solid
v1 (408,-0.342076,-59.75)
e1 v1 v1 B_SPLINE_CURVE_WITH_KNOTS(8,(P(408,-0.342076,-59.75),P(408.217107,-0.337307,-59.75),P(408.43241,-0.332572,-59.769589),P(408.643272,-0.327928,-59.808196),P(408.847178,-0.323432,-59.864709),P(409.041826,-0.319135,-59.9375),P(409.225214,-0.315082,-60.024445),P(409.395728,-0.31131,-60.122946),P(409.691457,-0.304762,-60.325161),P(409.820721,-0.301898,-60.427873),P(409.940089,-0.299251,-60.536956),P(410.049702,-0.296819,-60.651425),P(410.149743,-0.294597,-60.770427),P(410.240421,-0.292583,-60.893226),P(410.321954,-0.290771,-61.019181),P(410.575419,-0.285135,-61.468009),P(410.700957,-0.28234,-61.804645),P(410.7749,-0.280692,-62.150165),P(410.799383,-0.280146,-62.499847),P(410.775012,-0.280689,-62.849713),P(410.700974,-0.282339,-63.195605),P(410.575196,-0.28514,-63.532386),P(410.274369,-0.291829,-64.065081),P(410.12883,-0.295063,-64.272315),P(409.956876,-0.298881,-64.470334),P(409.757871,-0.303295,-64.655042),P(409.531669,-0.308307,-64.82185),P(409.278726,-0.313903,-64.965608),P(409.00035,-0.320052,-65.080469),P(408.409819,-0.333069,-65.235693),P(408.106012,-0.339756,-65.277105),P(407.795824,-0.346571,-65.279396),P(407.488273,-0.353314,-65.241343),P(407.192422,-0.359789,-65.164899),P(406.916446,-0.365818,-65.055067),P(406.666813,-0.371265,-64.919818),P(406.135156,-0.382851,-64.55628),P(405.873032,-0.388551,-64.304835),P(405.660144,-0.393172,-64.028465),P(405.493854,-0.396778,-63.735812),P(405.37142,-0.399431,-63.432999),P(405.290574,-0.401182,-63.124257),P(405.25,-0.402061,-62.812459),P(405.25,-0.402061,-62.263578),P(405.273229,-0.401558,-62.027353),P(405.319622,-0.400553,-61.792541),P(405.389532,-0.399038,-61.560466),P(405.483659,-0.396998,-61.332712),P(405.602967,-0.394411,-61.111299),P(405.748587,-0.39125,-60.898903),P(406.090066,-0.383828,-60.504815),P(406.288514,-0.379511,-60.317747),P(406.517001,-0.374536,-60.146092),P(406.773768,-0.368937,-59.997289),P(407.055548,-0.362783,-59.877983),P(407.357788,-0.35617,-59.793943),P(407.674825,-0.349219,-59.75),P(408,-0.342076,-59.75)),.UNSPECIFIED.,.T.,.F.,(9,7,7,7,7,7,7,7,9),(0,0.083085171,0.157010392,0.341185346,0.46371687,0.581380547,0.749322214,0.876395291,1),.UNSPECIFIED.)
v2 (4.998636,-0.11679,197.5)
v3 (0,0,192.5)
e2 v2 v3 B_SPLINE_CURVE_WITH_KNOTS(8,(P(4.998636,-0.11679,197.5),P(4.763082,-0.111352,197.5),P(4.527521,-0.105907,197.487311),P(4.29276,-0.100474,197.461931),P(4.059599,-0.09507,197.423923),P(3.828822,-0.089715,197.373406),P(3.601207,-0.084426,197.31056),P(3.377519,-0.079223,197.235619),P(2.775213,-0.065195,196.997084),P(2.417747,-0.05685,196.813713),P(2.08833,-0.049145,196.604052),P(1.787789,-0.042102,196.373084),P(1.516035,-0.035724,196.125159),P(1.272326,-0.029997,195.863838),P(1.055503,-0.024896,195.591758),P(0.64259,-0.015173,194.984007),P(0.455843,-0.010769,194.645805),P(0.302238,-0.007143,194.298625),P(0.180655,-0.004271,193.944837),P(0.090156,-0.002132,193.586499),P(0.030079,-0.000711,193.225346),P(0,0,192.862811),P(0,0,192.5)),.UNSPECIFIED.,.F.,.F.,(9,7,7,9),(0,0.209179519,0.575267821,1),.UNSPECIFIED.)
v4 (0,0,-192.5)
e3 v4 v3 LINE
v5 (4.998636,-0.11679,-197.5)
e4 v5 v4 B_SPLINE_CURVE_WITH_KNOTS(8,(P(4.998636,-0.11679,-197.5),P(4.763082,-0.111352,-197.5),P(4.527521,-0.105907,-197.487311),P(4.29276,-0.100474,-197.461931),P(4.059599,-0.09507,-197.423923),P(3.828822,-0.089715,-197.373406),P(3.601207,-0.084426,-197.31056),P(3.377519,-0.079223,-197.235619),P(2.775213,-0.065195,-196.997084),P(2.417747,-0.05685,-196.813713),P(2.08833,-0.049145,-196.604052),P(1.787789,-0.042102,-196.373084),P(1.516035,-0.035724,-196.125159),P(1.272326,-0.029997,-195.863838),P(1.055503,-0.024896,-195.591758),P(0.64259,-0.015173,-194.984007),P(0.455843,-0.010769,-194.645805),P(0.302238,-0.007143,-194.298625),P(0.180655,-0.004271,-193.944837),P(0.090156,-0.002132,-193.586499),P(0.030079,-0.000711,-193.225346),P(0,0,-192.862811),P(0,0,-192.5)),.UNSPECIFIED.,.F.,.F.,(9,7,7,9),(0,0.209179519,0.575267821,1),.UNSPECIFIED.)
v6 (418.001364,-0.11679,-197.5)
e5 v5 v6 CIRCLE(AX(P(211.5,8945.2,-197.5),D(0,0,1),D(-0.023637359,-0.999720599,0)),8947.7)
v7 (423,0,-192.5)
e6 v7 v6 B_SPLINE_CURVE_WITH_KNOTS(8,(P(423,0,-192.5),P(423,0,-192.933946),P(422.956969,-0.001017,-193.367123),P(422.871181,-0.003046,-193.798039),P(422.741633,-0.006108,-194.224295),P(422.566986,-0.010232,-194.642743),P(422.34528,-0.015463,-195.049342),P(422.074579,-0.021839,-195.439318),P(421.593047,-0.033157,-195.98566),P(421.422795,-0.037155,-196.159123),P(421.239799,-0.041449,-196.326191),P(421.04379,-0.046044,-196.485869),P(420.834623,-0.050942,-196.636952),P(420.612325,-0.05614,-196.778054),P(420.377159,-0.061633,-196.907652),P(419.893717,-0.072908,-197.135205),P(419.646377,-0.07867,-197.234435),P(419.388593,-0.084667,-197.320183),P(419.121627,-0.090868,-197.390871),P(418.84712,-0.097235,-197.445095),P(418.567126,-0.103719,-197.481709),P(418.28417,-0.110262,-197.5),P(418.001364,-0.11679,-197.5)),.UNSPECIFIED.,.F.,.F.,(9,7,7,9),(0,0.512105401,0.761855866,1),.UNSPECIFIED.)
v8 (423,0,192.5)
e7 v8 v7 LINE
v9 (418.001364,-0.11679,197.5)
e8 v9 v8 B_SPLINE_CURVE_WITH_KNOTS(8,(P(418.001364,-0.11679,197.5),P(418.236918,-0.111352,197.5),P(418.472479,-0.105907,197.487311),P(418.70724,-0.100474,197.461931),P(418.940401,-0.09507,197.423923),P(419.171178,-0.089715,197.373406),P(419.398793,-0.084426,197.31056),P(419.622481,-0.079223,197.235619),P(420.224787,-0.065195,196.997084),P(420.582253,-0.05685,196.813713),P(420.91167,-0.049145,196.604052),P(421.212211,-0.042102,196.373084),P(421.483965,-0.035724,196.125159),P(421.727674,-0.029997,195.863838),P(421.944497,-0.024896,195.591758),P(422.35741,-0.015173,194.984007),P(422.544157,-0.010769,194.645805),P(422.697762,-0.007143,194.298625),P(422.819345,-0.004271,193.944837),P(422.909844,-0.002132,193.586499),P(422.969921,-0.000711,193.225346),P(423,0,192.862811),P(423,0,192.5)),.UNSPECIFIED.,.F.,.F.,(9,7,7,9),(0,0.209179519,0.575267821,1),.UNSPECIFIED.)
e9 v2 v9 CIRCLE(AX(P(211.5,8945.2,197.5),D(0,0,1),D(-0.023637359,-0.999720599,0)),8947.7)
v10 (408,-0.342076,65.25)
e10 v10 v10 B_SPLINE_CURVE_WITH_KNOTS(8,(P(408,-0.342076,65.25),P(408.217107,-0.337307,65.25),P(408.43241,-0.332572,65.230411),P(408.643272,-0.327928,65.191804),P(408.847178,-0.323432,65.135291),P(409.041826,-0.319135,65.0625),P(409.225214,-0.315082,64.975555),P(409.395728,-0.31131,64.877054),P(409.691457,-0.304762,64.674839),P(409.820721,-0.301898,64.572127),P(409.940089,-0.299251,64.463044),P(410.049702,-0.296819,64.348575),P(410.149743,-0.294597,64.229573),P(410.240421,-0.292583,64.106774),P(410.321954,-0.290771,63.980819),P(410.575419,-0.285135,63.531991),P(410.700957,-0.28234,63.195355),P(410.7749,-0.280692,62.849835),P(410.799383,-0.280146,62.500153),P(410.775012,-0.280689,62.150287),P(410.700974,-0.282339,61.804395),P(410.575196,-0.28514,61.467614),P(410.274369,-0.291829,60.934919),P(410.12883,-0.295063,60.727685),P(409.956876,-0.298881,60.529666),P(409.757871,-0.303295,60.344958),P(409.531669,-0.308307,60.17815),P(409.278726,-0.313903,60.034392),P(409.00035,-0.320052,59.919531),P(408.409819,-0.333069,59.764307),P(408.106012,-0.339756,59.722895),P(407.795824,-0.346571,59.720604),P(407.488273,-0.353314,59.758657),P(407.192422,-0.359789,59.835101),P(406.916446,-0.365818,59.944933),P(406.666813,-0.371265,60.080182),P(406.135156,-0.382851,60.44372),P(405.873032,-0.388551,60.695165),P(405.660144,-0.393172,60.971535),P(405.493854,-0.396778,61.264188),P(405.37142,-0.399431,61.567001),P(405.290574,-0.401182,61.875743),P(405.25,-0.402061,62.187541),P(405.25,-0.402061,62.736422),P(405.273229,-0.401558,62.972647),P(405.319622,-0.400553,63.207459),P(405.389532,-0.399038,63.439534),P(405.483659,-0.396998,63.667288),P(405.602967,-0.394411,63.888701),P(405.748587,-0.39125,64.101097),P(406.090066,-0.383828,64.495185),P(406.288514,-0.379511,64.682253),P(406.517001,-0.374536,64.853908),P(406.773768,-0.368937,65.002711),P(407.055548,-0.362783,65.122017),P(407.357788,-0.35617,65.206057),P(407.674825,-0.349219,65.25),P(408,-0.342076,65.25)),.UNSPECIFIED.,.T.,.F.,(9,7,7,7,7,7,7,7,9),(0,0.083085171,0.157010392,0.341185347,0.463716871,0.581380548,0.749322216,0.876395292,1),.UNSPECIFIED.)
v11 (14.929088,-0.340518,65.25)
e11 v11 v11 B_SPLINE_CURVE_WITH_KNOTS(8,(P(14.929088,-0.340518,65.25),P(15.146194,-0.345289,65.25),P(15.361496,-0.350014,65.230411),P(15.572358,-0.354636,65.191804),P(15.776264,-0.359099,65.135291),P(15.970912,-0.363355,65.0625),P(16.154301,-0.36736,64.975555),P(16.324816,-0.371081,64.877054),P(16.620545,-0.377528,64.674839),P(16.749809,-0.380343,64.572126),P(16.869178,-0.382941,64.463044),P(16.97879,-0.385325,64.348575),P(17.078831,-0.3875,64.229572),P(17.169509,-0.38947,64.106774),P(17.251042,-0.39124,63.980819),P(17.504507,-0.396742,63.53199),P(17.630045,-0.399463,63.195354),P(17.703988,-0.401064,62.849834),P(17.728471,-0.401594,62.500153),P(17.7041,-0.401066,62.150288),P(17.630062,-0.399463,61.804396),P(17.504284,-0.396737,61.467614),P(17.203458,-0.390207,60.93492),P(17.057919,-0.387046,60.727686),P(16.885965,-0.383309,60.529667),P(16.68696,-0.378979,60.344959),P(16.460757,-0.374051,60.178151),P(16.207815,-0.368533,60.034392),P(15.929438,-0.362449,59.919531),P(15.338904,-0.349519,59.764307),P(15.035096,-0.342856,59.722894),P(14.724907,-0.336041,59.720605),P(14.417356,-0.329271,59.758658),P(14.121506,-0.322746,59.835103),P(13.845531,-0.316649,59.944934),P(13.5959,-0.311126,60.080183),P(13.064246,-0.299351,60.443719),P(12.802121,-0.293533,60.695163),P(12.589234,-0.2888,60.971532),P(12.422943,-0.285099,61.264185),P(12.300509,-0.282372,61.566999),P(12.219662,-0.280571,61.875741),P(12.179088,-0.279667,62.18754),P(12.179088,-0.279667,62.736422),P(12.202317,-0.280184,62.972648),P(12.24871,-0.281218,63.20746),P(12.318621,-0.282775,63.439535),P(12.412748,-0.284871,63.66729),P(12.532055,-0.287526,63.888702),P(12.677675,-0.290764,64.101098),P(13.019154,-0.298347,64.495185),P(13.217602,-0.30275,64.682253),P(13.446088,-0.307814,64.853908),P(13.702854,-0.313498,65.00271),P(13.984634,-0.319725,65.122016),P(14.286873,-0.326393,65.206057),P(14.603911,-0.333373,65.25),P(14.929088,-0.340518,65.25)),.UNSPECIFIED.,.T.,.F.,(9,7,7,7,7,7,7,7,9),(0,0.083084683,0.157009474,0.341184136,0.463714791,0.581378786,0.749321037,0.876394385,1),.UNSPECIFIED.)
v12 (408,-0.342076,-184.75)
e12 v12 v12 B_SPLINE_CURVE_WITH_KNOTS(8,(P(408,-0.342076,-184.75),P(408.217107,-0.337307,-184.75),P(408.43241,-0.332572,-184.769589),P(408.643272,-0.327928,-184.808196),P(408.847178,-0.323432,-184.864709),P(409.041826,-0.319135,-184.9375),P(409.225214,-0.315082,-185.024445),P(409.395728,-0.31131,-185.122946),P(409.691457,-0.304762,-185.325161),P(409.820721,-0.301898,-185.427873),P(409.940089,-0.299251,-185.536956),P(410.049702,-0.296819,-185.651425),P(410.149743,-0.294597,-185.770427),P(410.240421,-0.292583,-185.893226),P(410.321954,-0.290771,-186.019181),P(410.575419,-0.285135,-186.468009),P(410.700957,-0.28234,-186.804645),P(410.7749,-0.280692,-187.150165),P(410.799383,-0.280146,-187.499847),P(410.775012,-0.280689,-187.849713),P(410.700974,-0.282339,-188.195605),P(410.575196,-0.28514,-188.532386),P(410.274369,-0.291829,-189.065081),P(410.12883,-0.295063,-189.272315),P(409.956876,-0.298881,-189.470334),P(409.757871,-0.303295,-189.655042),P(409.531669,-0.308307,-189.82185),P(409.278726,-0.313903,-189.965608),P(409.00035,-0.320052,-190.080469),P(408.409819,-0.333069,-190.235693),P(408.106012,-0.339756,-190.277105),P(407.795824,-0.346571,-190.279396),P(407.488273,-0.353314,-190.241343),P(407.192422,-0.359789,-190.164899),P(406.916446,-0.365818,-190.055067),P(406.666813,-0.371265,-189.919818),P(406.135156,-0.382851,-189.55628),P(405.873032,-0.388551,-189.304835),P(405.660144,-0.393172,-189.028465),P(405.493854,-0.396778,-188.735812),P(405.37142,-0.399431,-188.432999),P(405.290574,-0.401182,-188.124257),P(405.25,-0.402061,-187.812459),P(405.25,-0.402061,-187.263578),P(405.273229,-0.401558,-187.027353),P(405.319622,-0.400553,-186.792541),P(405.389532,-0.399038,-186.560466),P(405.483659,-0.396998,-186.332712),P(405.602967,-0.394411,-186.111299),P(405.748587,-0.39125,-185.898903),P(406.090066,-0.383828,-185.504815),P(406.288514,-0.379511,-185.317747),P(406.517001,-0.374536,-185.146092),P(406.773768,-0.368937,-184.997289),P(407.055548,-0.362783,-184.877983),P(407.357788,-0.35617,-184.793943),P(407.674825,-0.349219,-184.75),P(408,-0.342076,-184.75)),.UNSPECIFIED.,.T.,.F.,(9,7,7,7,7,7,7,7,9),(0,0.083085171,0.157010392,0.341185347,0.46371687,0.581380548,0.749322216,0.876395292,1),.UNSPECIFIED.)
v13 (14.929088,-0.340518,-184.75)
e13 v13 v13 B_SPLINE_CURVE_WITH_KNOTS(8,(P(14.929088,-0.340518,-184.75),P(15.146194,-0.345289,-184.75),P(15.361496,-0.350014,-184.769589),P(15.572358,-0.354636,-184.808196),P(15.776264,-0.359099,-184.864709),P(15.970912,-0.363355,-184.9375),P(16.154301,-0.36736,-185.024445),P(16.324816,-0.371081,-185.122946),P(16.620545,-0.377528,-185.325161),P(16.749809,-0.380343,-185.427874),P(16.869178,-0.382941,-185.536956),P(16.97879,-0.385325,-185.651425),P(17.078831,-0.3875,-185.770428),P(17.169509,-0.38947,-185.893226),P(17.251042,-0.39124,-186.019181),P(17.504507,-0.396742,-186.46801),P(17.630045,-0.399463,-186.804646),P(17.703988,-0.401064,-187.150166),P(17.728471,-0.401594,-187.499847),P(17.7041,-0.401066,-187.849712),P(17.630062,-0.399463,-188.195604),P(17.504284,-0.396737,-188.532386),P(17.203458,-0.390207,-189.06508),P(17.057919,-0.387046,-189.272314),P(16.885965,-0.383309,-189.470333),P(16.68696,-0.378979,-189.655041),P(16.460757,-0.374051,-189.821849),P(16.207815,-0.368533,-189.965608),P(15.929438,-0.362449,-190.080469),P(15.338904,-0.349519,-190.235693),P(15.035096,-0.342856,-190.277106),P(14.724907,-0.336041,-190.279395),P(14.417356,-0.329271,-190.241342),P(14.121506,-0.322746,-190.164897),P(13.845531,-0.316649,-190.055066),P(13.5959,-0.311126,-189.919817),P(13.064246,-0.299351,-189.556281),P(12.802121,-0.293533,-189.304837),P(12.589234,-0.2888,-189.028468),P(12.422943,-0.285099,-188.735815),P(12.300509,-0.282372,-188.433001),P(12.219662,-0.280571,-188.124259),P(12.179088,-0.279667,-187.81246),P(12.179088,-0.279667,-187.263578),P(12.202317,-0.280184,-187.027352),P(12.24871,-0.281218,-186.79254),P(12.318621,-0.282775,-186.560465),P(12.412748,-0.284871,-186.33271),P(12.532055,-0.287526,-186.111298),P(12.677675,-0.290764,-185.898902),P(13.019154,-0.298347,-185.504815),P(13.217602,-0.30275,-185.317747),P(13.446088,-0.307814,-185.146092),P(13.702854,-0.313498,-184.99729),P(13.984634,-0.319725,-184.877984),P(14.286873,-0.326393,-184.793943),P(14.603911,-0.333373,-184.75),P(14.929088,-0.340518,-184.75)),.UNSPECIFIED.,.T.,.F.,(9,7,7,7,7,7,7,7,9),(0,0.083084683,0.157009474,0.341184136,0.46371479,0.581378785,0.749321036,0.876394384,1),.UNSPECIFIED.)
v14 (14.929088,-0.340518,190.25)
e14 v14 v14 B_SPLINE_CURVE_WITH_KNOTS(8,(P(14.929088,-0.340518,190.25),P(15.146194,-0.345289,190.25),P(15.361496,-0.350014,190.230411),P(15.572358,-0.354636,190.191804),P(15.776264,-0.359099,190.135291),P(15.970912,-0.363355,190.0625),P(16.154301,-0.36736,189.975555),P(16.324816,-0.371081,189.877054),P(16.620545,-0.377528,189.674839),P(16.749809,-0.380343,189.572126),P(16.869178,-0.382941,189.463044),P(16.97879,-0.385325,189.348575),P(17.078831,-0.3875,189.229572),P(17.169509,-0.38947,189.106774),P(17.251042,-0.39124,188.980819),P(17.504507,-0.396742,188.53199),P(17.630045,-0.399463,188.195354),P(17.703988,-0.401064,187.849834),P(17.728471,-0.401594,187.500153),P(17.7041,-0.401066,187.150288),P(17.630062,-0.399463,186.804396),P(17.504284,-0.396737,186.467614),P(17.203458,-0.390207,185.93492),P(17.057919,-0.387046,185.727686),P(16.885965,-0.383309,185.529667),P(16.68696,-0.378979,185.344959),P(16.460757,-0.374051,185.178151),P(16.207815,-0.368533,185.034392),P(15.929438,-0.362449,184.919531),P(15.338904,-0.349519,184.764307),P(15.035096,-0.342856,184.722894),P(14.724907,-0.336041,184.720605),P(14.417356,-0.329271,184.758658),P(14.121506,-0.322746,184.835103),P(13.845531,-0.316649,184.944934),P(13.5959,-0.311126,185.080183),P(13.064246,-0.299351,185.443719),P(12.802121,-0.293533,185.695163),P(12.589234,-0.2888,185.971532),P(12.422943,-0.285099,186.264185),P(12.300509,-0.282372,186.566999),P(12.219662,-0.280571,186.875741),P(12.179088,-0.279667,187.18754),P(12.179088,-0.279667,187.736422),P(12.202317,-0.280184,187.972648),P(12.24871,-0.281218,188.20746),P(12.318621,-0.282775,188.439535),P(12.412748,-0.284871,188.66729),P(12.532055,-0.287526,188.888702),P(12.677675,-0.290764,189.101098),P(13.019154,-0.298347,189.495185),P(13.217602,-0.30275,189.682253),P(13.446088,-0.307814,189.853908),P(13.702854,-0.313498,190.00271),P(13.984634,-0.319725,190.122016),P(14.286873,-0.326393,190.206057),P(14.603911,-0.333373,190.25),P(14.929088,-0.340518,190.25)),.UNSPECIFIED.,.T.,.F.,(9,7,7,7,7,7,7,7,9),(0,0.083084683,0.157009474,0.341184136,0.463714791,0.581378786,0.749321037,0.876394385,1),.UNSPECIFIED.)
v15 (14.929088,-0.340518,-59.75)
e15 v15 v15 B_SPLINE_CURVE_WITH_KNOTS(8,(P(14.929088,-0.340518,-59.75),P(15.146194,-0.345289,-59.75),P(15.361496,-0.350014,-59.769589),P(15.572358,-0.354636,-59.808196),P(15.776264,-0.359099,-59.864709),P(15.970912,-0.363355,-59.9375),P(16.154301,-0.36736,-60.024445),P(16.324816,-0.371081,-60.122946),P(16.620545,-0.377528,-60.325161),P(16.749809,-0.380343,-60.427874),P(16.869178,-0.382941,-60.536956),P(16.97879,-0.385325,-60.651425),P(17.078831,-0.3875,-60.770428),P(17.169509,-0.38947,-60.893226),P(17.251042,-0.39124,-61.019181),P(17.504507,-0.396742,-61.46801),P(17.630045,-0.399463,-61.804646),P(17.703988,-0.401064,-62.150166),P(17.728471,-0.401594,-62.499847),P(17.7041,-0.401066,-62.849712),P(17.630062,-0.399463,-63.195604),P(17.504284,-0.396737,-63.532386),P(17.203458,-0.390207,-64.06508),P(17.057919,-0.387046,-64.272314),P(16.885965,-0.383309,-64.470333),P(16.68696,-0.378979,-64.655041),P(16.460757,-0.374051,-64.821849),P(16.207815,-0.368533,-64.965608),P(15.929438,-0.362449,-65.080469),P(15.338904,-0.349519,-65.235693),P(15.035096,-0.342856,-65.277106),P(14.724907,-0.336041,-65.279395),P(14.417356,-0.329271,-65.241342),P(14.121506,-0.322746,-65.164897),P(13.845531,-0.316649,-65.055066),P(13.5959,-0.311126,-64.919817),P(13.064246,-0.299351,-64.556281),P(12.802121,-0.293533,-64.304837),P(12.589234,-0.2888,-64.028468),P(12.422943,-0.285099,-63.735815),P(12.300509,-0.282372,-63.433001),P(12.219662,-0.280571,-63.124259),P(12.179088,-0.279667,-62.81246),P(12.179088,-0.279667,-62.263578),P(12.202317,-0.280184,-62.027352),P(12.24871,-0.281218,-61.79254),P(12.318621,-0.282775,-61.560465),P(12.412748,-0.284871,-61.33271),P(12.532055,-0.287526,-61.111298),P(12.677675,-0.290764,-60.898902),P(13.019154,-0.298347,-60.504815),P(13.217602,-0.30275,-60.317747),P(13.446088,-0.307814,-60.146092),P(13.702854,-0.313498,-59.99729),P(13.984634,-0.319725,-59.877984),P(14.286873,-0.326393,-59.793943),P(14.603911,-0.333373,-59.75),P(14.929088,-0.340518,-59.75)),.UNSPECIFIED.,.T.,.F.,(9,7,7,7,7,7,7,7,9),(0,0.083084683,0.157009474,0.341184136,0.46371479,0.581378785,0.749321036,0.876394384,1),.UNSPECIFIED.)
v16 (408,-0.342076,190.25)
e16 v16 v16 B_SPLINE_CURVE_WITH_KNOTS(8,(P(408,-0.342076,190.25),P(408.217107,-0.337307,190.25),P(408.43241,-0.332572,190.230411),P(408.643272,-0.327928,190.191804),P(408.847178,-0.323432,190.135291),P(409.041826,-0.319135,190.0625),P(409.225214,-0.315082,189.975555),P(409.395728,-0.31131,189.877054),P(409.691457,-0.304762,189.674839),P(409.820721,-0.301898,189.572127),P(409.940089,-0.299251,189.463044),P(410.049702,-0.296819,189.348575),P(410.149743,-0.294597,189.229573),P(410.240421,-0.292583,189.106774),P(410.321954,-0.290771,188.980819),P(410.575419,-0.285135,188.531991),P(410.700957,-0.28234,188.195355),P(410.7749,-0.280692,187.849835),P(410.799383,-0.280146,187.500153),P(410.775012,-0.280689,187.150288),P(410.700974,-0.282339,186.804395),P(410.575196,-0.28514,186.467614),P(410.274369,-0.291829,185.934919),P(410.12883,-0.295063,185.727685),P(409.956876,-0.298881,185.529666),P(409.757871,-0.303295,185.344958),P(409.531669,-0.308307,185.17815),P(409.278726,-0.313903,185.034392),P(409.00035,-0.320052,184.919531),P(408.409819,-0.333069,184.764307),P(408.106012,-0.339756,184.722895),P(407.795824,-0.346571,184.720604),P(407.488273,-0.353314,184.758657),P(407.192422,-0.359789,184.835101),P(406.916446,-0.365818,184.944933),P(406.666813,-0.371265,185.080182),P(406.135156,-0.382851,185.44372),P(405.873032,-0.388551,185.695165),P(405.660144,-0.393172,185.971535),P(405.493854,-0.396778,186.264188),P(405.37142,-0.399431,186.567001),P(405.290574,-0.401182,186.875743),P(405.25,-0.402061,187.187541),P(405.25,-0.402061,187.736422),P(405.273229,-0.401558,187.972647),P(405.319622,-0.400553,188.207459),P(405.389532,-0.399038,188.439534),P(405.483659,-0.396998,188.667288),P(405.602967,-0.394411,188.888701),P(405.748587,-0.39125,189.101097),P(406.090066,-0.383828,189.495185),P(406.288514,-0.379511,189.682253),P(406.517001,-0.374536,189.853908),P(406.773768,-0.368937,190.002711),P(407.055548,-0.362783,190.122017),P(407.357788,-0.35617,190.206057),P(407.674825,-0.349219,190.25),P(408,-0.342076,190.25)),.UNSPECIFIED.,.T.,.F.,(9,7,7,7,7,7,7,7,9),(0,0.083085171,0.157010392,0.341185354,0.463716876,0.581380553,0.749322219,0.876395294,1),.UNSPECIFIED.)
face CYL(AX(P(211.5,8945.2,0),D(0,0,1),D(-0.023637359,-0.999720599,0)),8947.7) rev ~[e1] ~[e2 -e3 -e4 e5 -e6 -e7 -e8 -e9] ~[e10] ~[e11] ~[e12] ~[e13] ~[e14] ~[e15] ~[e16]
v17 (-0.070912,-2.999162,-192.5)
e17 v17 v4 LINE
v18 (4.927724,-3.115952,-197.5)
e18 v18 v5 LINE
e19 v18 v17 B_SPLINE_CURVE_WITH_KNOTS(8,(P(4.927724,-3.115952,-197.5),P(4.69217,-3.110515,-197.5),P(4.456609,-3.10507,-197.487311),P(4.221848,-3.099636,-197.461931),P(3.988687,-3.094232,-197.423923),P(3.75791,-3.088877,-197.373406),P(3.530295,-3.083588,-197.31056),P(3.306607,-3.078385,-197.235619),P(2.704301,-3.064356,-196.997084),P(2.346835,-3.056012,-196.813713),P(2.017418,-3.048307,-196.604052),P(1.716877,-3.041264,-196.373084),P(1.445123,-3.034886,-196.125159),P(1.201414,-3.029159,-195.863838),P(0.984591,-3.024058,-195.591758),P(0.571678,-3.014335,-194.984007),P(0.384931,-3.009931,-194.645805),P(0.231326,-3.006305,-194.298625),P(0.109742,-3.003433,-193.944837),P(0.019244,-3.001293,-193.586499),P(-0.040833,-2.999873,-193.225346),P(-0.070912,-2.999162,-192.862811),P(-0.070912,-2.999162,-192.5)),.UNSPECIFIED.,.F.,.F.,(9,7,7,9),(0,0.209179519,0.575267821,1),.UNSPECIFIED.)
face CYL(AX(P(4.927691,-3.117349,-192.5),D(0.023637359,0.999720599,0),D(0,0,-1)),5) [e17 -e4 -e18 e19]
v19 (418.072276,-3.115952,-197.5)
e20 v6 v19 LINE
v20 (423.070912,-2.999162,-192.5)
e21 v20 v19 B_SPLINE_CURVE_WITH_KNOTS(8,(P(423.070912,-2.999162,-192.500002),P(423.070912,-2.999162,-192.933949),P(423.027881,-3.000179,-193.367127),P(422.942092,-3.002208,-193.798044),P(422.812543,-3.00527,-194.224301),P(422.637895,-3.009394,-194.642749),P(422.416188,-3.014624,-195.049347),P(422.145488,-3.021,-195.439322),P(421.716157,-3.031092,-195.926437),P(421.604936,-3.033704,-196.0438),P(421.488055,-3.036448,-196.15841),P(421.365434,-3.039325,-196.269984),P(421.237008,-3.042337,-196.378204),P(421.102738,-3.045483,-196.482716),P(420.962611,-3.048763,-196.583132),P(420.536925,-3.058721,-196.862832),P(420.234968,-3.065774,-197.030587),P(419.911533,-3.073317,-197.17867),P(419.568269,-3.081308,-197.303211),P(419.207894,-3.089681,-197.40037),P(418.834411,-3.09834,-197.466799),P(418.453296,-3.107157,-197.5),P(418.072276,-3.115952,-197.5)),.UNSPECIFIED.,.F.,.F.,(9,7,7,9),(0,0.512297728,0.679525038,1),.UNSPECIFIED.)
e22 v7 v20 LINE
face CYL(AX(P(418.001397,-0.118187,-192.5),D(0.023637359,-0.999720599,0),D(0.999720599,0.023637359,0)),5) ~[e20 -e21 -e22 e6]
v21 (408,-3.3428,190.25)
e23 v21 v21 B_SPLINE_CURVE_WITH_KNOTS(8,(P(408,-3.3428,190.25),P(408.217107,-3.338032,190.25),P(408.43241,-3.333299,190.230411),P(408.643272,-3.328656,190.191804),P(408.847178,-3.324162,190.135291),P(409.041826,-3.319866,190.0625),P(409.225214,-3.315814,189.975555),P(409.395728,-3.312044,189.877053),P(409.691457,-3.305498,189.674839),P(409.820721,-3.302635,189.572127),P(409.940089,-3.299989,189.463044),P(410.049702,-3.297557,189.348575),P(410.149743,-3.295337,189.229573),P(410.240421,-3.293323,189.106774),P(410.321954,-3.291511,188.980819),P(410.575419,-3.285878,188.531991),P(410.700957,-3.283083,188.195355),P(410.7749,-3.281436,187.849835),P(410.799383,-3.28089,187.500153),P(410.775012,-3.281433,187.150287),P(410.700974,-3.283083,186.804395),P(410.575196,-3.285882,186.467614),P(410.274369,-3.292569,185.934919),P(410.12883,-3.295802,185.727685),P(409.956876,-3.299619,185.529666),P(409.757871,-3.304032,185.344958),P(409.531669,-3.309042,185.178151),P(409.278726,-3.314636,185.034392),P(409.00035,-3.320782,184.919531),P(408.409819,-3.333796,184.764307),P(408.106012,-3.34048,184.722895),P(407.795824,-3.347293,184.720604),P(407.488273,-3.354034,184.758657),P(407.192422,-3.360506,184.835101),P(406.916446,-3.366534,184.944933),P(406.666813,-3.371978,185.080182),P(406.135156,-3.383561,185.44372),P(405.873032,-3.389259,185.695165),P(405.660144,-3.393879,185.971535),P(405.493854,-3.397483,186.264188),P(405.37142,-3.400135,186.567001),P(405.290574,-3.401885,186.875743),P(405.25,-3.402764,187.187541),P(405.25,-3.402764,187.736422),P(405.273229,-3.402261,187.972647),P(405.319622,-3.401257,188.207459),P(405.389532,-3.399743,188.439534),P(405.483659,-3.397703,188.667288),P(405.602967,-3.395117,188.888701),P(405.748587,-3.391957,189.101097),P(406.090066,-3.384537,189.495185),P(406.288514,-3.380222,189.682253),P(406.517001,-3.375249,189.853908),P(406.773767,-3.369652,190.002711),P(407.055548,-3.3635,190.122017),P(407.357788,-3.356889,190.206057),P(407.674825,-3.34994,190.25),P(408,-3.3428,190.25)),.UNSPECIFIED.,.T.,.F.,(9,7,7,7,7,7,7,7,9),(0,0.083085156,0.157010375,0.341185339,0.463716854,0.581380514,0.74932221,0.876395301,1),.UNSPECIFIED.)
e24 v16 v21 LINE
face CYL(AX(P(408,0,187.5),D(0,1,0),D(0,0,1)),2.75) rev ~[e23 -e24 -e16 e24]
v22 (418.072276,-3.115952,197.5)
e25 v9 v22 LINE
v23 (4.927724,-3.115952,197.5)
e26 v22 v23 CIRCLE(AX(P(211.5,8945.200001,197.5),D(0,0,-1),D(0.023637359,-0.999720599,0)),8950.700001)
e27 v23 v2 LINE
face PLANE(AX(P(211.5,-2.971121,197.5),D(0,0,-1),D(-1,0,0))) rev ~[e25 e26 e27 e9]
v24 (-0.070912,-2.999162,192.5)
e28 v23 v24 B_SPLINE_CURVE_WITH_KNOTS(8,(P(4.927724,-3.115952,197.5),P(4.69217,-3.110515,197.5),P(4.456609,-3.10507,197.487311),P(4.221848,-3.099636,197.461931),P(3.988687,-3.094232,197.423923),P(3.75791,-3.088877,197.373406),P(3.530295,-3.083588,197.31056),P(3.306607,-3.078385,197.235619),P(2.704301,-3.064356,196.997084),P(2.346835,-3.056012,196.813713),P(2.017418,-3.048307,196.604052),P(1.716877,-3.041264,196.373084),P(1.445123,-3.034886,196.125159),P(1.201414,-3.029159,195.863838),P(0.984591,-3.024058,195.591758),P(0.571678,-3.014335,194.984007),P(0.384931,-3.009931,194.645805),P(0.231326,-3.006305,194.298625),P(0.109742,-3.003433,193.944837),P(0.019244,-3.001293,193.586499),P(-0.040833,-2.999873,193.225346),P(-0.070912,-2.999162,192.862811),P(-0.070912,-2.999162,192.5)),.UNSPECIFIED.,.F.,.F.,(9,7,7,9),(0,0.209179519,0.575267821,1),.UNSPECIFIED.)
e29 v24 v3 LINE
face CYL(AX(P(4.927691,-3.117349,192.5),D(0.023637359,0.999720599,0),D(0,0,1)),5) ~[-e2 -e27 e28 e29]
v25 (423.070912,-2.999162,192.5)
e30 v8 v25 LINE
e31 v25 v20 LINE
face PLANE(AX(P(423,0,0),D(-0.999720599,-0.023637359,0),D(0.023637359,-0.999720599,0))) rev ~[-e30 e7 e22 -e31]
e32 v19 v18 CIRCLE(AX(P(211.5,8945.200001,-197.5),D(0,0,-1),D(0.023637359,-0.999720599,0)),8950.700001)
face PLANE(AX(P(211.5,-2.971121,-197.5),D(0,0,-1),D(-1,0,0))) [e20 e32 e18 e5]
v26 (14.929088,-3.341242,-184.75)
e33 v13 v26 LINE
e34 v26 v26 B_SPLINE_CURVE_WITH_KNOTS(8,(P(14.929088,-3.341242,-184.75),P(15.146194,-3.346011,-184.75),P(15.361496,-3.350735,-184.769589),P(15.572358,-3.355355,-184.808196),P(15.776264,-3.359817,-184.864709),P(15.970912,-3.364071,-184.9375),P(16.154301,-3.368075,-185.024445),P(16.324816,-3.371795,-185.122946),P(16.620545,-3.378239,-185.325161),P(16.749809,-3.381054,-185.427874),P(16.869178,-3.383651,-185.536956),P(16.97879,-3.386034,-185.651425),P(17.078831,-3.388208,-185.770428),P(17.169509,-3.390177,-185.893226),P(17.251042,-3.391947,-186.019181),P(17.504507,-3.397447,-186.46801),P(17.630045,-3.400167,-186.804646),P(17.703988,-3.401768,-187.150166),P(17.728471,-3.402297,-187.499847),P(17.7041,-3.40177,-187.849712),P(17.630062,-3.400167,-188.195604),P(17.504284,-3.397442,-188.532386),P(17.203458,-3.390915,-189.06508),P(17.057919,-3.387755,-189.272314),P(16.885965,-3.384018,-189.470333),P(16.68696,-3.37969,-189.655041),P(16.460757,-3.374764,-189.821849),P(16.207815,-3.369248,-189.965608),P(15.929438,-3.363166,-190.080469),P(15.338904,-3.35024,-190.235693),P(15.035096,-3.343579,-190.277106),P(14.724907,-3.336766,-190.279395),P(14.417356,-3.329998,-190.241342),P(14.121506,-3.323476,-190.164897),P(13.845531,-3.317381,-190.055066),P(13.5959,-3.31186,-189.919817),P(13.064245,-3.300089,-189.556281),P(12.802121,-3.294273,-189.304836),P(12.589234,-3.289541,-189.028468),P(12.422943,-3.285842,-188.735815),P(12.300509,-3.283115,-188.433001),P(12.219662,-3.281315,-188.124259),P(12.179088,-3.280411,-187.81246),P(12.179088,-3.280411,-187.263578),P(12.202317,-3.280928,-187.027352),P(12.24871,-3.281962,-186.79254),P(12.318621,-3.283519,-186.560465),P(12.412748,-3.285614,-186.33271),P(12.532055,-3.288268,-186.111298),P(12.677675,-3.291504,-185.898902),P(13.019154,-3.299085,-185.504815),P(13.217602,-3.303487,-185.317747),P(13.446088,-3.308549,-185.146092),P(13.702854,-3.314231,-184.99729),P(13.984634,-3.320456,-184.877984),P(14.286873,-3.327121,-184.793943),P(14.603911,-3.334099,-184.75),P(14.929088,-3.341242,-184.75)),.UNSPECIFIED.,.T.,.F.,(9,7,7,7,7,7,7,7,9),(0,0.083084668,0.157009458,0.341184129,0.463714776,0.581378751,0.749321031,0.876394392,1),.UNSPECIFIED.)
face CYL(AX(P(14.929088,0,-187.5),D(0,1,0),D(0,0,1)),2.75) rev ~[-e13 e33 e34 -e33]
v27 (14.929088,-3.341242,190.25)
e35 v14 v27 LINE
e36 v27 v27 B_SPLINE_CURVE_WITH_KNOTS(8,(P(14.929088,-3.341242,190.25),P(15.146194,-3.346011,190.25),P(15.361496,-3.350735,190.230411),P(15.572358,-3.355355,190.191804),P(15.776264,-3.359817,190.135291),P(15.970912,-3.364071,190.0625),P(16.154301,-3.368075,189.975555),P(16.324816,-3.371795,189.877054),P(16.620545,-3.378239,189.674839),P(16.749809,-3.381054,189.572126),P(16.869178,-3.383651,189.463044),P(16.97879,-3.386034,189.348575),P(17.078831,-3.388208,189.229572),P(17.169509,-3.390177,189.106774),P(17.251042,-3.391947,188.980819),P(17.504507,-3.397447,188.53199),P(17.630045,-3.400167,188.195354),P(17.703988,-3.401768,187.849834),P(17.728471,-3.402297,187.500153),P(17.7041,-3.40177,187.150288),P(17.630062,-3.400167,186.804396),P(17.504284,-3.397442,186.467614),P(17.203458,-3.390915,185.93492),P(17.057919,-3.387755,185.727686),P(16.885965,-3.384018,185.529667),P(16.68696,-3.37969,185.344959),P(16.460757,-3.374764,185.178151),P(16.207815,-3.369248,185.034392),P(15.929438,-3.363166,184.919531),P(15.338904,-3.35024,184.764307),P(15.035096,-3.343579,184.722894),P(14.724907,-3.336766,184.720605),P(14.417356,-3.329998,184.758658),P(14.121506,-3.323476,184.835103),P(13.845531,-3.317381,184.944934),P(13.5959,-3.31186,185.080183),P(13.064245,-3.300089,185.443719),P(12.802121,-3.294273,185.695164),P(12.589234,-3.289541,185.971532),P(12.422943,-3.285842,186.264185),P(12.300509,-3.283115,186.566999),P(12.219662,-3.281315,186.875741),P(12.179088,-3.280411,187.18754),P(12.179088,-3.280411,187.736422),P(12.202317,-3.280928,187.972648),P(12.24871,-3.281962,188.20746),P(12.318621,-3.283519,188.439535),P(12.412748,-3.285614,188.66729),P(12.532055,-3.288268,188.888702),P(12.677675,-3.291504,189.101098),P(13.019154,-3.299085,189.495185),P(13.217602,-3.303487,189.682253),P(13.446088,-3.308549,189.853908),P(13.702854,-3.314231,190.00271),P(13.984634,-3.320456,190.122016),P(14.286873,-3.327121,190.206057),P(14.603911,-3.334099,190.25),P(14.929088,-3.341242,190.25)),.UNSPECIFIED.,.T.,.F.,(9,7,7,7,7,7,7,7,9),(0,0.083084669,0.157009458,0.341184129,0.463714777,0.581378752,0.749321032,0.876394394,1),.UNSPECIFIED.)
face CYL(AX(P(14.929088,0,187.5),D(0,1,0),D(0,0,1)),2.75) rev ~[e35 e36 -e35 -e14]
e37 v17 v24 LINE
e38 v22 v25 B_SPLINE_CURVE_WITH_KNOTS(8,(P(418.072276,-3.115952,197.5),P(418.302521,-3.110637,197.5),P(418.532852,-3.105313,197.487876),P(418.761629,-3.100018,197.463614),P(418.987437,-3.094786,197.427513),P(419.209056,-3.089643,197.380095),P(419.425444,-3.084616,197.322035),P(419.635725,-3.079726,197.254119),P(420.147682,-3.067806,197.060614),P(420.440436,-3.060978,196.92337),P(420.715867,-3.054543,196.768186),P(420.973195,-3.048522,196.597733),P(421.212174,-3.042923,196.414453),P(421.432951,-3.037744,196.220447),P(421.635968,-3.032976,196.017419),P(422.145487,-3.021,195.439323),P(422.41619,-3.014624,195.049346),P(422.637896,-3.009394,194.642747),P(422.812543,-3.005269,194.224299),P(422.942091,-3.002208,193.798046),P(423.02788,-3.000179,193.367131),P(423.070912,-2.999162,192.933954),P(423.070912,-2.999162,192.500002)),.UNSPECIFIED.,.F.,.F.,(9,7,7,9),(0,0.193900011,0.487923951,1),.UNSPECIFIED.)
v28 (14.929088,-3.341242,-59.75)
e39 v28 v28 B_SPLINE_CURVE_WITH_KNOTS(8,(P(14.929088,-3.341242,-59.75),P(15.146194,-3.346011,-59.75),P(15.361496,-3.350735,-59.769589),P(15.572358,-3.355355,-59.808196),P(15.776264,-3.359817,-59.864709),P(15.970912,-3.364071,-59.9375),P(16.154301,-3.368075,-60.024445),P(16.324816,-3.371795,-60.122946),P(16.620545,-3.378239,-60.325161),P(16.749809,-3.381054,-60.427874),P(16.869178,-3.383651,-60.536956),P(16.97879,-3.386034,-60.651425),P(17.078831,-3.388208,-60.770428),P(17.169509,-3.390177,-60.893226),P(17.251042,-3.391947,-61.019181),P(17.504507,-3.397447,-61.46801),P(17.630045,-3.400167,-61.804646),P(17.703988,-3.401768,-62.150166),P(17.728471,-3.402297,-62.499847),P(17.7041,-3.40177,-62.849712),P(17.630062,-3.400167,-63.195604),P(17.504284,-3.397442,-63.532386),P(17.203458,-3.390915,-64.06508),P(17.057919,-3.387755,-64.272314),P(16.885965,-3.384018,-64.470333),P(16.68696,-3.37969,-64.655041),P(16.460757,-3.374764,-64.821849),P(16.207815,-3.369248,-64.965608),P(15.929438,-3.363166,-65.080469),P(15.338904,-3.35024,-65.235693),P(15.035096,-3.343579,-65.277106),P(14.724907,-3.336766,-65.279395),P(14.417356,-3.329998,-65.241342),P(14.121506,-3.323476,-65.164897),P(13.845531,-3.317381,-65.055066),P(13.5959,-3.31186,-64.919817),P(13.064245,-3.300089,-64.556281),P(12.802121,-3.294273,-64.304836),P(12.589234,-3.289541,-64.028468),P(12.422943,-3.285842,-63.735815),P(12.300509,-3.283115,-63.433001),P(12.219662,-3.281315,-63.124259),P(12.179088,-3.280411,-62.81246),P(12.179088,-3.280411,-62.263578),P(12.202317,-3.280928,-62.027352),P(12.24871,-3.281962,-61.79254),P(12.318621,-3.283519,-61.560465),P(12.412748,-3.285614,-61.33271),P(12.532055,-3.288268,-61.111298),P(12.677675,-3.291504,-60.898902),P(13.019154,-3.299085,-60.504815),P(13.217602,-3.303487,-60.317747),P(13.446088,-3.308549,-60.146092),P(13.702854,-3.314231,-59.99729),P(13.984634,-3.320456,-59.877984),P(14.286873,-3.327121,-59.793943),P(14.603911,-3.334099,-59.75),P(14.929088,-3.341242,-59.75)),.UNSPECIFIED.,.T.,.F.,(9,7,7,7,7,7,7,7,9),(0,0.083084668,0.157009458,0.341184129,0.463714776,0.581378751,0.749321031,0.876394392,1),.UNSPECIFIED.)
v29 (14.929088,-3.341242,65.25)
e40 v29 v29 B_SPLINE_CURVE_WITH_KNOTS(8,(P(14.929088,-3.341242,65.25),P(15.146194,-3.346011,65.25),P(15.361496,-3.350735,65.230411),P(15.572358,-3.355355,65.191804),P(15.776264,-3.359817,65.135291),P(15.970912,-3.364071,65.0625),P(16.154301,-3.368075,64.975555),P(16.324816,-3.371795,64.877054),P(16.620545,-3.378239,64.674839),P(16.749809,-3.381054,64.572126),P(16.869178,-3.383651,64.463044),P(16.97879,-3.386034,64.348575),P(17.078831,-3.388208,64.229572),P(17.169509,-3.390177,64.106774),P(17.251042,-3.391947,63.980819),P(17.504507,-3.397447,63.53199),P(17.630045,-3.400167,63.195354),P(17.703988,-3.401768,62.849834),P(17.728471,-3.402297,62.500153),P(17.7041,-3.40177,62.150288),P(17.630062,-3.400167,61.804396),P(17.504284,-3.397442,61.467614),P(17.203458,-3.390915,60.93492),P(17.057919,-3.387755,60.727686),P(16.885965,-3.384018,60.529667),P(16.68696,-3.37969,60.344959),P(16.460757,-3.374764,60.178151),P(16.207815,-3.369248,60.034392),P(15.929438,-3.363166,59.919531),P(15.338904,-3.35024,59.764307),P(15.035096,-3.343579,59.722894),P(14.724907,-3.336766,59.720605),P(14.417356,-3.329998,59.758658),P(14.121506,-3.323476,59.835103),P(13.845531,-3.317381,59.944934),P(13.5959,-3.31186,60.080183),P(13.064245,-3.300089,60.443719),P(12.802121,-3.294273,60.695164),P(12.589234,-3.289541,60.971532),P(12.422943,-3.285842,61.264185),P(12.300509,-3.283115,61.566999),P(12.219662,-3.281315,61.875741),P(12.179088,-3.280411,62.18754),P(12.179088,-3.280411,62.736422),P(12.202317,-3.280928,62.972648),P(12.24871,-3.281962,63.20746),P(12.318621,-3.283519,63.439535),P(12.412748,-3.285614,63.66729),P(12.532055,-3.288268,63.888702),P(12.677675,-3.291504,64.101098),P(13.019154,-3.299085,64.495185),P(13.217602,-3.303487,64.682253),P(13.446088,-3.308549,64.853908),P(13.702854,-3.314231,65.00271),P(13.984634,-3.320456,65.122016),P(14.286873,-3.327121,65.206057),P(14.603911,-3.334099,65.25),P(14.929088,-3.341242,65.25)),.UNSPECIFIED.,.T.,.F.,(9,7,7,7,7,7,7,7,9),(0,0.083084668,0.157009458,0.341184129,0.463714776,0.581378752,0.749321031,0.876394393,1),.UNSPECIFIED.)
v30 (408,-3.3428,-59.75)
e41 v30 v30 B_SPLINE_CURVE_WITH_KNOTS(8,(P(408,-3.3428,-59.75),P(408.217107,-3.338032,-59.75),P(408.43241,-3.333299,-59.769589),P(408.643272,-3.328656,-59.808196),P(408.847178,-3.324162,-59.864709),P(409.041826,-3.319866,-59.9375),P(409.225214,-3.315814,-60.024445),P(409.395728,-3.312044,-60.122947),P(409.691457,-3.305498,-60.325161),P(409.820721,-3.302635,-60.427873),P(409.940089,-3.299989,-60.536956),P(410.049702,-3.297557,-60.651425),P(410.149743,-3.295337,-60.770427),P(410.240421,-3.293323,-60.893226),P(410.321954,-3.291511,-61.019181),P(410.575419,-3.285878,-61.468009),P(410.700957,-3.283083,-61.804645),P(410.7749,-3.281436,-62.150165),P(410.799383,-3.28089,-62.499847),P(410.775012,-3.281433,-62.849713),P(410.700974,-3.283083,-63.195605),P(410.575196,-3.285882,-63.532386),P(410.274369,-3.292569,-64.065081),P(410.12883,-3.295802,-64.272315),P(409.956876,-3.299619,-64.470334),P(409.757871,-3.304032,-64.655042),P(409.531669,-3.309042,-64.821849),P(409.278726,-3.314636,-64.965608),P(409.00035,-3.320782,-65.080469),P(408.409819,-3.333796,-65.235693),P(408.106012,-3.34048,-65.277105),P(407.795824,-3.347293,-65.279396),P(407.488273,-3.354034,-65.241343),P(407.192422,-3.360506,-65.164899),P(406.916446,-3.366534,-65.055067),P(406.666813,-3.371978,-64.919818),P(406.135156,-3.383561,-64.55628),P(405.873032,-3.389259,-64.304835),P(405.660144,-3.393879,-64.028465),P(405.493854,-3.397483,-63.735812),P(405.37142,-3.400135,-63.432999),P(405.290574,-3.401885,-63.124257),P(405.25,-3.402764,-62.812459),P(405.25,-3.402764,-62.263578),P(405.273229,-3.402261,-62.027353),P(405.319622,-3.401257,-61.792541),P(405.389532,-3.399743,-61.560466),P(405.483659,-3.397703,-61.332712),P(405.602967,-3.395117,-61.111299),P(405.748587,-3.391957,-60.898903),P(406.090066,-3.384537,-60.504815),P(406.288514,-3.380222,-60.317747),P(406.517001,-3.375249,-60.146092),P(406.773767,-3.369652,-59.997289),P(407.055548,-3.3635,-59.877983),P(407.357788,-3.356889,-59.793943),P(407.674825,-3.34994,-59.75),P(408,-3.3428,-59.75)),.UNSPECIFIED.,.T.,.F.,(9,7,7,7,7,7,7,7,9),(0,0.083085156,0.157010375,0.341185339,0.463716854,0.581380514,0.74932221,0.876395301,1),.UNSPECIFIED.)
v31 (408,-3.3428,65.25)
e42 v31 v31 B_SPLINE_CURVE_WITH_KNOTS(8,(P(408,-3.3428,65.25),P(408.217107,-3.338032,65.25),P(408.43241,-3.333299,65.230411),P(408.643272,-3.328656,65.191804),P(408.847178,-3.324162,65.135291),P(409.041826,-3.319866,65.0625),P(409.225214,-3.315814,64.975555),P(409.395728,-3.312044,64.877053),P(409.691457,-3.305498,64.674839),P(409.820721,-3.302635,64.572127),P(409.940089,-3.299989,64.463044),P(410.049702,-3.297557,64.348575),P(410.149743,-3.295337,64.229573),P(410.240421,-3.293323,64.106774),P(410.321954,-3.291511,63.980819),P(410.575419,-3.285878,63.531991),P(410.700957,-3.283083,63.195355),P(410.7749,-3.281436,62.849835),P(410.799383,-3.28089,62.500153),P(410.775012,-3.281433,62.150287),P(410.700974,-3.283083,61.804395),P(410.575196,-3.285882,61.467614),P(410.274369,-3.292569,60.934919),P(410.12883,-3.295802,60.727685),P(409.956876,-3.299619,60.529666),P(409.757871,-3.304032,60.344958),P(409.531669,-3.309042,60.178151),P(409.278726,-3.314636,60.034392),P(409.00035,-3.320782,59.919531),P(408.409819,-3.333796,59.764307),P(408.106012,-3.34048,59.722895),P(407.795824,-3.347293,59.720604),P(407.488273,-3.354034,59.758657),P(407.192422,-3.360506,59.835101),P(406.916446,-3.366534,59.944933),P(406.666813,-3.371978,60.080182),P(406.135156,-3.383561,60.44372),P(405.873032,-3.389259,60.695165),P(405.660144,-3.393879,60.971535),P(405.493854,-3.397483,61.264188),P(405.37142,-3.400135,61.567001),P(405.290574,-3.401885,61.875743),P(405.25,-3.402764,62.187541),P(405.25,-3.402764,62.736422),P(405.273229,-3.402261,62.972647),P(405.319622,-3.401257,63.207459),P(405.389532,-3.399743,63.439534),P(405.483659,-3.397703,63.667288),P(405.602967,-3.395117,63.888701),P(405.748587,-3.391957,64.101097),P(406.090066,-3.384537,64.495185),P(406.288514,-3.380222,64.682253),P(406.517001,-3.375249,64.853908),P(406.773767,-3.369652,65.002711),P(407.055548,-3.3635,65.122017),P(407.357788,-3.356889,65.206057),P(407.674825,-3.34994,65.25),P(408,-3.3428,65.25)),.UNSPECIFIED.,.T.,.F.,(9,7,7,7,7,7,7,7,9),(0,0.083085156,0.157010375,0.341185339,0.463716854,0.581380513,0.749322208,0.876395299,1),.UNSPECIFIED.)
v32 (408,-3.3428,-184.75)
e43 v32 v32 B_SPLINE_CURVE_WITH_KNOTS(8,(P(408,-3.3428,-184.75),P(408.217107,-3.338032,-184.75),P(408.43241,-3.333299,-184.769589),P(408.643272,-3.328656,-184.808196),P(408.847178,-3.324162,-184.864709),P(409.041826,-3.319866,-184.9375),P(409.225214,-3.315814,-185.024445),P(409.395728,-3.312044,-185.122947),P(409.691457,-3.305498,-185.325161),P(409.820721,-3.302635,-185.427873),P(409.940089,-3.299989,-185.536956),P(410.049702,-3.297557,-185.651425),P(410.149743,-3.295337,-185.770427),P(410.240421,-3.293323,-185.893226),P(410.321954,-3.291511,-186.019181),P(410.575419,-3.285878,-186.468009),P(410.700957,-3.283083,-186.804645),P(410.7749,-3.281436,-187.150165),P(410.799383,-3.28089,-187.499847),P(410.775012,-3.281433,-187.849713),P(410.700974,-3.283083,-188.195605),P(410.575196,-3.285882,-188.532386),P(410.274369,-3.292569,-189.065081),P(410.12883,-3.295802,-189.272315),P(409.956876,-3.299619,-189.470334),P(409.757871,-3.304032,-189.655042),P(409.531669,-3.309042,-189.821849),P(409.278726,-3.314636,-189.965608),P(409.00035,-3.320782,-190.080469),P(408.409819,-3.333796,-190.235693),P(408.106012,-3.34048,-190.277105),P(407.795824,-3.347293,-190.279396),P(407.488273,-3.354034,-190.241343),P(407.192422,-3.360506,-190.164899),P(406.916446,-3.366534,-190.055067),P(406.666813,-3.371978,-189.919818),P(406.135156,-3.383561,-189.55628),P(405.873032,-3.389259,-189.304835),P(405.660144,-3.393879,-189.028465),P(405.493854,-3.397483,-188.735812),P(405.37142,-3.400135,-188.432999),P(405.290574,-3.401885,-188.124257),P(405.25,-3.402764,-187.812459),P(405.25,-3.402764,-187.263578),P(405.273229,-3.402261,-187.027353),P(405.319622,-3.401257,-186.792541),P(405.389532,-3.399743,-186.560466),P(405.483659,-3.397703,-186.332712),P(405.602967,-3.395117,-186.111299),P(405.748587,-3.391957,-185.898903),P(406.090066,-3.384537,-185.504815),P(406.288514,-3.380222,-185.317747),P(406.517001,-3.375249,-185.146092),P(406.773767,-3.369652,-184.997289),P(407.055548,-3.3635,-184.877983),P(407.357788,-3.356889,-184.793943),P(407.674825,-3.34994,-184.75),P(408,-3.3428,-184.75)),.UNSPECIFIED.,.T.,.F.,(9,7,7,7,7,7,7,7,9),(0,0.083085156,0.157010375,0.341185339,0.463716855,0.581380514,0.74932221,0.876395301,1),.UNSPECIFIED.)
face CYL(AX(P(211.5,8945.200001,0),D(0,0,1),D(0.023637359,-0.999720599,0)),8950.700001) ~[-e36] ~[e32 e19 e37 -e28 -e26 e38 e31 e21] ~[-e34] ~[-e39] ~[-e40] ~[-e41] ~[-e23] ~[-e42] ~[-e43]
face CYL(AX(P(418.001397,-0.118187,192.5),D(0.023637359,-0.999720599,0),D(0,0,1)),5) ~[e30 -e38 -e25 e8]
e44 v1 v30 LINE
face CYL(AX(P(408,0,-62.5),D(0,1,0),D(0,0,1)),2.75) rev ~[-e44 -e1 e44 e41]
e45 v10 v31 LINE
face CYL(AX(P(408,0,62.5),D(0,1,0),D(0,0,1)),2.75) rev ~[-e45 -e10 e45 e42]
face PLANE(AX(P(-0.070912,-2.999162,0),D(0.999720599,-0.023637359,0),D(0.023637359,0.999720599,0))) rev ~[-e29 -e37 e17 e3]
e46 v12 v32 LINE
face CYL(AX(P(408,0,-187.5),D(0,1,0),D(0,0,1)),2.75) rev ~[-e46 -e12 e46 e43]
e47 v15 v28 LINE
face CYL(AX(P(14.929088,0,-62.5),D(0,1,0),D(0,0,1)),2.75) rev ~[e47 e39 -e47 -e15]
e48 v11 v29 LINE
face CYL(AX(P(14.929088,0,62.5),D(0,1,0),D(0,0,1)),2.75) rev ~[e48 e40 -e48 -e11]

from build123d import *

# Parameters (mm, degrees)
EXTRUS_O_FINA1_DEPTH  = 197.5
FILETE1_R             = 5
ESBO_O2_R             = 2.75
CORTE_EXTRUS_O1_DEPTH = 467.932004441
PADR_O_LINEAR2_COUNT  = 4
PADR_O_LINEAR2_PITCH  = 125


with BuildPart() as part:
    # Esboço1 → Extrusão-Fina1 (new, symmetric)
    with BuildSketch(Plane.XY):
        with BuildLine():
            ThreePointArc((0, 0), (211.5, -2.5), (423, 0))
            Line((423, 0), (423.070912078, -2.999161796))
            ThreePointArc((423.070912078, -2.999161796), (211.5, -5.5), (-0.070912078, -2.999161796))
            Line((-0.070912078, -2.999161796), (0, 0))
        make_face()
    extrude(amount=EXTRUS_O_FINA1_DEPTH, both=True)

    # Filete1
    filete1_edges = [part.edges().sort_by_distance(p)[0] for p in [
        (-0.035456039, -1.499580898, 197.5),
        (-0.035456039, -1.499580898, -197.5),
        (423.035456039, -1.499580898, -197.5),
        (423.035456039, -1.499580898, 197.5),
    ]]
    fillet(filete1_edges, radius=FILETE1_R)

    # Esboço2 → Corte-extrusão1 (cut, through all)
    with BuildSketch(Plane(origin=(0, 0, 0), x_dir=(1, 0, 0), z_dir=(0, 1, 0))):
        with Locations(Location((14.929087922, -187.5, 0), (0, 0, 270))):
            Circle(ESBO_O2_R)
        with Locations(Location((408, -187.5, 0), (0, 0, 270))):
            Circle(ESBO_O2_R)
    corte_extrus_o1 = extrude(amount=-CORTE_EXTRUS_O1_DEPTH, mode=Mode.SUBTRACT)

    # Padrão linear2: Corte-extrusão1 ×4
    with Locations(*[(0, 0, -i * PADR_O_LINEAR2_PITCH) for i in range(1, PADR_O_LINEAR2_COUNT)]):
        add(corte_extrus_o1, mode=Mode.SUBTRACT)


solid = part.part
